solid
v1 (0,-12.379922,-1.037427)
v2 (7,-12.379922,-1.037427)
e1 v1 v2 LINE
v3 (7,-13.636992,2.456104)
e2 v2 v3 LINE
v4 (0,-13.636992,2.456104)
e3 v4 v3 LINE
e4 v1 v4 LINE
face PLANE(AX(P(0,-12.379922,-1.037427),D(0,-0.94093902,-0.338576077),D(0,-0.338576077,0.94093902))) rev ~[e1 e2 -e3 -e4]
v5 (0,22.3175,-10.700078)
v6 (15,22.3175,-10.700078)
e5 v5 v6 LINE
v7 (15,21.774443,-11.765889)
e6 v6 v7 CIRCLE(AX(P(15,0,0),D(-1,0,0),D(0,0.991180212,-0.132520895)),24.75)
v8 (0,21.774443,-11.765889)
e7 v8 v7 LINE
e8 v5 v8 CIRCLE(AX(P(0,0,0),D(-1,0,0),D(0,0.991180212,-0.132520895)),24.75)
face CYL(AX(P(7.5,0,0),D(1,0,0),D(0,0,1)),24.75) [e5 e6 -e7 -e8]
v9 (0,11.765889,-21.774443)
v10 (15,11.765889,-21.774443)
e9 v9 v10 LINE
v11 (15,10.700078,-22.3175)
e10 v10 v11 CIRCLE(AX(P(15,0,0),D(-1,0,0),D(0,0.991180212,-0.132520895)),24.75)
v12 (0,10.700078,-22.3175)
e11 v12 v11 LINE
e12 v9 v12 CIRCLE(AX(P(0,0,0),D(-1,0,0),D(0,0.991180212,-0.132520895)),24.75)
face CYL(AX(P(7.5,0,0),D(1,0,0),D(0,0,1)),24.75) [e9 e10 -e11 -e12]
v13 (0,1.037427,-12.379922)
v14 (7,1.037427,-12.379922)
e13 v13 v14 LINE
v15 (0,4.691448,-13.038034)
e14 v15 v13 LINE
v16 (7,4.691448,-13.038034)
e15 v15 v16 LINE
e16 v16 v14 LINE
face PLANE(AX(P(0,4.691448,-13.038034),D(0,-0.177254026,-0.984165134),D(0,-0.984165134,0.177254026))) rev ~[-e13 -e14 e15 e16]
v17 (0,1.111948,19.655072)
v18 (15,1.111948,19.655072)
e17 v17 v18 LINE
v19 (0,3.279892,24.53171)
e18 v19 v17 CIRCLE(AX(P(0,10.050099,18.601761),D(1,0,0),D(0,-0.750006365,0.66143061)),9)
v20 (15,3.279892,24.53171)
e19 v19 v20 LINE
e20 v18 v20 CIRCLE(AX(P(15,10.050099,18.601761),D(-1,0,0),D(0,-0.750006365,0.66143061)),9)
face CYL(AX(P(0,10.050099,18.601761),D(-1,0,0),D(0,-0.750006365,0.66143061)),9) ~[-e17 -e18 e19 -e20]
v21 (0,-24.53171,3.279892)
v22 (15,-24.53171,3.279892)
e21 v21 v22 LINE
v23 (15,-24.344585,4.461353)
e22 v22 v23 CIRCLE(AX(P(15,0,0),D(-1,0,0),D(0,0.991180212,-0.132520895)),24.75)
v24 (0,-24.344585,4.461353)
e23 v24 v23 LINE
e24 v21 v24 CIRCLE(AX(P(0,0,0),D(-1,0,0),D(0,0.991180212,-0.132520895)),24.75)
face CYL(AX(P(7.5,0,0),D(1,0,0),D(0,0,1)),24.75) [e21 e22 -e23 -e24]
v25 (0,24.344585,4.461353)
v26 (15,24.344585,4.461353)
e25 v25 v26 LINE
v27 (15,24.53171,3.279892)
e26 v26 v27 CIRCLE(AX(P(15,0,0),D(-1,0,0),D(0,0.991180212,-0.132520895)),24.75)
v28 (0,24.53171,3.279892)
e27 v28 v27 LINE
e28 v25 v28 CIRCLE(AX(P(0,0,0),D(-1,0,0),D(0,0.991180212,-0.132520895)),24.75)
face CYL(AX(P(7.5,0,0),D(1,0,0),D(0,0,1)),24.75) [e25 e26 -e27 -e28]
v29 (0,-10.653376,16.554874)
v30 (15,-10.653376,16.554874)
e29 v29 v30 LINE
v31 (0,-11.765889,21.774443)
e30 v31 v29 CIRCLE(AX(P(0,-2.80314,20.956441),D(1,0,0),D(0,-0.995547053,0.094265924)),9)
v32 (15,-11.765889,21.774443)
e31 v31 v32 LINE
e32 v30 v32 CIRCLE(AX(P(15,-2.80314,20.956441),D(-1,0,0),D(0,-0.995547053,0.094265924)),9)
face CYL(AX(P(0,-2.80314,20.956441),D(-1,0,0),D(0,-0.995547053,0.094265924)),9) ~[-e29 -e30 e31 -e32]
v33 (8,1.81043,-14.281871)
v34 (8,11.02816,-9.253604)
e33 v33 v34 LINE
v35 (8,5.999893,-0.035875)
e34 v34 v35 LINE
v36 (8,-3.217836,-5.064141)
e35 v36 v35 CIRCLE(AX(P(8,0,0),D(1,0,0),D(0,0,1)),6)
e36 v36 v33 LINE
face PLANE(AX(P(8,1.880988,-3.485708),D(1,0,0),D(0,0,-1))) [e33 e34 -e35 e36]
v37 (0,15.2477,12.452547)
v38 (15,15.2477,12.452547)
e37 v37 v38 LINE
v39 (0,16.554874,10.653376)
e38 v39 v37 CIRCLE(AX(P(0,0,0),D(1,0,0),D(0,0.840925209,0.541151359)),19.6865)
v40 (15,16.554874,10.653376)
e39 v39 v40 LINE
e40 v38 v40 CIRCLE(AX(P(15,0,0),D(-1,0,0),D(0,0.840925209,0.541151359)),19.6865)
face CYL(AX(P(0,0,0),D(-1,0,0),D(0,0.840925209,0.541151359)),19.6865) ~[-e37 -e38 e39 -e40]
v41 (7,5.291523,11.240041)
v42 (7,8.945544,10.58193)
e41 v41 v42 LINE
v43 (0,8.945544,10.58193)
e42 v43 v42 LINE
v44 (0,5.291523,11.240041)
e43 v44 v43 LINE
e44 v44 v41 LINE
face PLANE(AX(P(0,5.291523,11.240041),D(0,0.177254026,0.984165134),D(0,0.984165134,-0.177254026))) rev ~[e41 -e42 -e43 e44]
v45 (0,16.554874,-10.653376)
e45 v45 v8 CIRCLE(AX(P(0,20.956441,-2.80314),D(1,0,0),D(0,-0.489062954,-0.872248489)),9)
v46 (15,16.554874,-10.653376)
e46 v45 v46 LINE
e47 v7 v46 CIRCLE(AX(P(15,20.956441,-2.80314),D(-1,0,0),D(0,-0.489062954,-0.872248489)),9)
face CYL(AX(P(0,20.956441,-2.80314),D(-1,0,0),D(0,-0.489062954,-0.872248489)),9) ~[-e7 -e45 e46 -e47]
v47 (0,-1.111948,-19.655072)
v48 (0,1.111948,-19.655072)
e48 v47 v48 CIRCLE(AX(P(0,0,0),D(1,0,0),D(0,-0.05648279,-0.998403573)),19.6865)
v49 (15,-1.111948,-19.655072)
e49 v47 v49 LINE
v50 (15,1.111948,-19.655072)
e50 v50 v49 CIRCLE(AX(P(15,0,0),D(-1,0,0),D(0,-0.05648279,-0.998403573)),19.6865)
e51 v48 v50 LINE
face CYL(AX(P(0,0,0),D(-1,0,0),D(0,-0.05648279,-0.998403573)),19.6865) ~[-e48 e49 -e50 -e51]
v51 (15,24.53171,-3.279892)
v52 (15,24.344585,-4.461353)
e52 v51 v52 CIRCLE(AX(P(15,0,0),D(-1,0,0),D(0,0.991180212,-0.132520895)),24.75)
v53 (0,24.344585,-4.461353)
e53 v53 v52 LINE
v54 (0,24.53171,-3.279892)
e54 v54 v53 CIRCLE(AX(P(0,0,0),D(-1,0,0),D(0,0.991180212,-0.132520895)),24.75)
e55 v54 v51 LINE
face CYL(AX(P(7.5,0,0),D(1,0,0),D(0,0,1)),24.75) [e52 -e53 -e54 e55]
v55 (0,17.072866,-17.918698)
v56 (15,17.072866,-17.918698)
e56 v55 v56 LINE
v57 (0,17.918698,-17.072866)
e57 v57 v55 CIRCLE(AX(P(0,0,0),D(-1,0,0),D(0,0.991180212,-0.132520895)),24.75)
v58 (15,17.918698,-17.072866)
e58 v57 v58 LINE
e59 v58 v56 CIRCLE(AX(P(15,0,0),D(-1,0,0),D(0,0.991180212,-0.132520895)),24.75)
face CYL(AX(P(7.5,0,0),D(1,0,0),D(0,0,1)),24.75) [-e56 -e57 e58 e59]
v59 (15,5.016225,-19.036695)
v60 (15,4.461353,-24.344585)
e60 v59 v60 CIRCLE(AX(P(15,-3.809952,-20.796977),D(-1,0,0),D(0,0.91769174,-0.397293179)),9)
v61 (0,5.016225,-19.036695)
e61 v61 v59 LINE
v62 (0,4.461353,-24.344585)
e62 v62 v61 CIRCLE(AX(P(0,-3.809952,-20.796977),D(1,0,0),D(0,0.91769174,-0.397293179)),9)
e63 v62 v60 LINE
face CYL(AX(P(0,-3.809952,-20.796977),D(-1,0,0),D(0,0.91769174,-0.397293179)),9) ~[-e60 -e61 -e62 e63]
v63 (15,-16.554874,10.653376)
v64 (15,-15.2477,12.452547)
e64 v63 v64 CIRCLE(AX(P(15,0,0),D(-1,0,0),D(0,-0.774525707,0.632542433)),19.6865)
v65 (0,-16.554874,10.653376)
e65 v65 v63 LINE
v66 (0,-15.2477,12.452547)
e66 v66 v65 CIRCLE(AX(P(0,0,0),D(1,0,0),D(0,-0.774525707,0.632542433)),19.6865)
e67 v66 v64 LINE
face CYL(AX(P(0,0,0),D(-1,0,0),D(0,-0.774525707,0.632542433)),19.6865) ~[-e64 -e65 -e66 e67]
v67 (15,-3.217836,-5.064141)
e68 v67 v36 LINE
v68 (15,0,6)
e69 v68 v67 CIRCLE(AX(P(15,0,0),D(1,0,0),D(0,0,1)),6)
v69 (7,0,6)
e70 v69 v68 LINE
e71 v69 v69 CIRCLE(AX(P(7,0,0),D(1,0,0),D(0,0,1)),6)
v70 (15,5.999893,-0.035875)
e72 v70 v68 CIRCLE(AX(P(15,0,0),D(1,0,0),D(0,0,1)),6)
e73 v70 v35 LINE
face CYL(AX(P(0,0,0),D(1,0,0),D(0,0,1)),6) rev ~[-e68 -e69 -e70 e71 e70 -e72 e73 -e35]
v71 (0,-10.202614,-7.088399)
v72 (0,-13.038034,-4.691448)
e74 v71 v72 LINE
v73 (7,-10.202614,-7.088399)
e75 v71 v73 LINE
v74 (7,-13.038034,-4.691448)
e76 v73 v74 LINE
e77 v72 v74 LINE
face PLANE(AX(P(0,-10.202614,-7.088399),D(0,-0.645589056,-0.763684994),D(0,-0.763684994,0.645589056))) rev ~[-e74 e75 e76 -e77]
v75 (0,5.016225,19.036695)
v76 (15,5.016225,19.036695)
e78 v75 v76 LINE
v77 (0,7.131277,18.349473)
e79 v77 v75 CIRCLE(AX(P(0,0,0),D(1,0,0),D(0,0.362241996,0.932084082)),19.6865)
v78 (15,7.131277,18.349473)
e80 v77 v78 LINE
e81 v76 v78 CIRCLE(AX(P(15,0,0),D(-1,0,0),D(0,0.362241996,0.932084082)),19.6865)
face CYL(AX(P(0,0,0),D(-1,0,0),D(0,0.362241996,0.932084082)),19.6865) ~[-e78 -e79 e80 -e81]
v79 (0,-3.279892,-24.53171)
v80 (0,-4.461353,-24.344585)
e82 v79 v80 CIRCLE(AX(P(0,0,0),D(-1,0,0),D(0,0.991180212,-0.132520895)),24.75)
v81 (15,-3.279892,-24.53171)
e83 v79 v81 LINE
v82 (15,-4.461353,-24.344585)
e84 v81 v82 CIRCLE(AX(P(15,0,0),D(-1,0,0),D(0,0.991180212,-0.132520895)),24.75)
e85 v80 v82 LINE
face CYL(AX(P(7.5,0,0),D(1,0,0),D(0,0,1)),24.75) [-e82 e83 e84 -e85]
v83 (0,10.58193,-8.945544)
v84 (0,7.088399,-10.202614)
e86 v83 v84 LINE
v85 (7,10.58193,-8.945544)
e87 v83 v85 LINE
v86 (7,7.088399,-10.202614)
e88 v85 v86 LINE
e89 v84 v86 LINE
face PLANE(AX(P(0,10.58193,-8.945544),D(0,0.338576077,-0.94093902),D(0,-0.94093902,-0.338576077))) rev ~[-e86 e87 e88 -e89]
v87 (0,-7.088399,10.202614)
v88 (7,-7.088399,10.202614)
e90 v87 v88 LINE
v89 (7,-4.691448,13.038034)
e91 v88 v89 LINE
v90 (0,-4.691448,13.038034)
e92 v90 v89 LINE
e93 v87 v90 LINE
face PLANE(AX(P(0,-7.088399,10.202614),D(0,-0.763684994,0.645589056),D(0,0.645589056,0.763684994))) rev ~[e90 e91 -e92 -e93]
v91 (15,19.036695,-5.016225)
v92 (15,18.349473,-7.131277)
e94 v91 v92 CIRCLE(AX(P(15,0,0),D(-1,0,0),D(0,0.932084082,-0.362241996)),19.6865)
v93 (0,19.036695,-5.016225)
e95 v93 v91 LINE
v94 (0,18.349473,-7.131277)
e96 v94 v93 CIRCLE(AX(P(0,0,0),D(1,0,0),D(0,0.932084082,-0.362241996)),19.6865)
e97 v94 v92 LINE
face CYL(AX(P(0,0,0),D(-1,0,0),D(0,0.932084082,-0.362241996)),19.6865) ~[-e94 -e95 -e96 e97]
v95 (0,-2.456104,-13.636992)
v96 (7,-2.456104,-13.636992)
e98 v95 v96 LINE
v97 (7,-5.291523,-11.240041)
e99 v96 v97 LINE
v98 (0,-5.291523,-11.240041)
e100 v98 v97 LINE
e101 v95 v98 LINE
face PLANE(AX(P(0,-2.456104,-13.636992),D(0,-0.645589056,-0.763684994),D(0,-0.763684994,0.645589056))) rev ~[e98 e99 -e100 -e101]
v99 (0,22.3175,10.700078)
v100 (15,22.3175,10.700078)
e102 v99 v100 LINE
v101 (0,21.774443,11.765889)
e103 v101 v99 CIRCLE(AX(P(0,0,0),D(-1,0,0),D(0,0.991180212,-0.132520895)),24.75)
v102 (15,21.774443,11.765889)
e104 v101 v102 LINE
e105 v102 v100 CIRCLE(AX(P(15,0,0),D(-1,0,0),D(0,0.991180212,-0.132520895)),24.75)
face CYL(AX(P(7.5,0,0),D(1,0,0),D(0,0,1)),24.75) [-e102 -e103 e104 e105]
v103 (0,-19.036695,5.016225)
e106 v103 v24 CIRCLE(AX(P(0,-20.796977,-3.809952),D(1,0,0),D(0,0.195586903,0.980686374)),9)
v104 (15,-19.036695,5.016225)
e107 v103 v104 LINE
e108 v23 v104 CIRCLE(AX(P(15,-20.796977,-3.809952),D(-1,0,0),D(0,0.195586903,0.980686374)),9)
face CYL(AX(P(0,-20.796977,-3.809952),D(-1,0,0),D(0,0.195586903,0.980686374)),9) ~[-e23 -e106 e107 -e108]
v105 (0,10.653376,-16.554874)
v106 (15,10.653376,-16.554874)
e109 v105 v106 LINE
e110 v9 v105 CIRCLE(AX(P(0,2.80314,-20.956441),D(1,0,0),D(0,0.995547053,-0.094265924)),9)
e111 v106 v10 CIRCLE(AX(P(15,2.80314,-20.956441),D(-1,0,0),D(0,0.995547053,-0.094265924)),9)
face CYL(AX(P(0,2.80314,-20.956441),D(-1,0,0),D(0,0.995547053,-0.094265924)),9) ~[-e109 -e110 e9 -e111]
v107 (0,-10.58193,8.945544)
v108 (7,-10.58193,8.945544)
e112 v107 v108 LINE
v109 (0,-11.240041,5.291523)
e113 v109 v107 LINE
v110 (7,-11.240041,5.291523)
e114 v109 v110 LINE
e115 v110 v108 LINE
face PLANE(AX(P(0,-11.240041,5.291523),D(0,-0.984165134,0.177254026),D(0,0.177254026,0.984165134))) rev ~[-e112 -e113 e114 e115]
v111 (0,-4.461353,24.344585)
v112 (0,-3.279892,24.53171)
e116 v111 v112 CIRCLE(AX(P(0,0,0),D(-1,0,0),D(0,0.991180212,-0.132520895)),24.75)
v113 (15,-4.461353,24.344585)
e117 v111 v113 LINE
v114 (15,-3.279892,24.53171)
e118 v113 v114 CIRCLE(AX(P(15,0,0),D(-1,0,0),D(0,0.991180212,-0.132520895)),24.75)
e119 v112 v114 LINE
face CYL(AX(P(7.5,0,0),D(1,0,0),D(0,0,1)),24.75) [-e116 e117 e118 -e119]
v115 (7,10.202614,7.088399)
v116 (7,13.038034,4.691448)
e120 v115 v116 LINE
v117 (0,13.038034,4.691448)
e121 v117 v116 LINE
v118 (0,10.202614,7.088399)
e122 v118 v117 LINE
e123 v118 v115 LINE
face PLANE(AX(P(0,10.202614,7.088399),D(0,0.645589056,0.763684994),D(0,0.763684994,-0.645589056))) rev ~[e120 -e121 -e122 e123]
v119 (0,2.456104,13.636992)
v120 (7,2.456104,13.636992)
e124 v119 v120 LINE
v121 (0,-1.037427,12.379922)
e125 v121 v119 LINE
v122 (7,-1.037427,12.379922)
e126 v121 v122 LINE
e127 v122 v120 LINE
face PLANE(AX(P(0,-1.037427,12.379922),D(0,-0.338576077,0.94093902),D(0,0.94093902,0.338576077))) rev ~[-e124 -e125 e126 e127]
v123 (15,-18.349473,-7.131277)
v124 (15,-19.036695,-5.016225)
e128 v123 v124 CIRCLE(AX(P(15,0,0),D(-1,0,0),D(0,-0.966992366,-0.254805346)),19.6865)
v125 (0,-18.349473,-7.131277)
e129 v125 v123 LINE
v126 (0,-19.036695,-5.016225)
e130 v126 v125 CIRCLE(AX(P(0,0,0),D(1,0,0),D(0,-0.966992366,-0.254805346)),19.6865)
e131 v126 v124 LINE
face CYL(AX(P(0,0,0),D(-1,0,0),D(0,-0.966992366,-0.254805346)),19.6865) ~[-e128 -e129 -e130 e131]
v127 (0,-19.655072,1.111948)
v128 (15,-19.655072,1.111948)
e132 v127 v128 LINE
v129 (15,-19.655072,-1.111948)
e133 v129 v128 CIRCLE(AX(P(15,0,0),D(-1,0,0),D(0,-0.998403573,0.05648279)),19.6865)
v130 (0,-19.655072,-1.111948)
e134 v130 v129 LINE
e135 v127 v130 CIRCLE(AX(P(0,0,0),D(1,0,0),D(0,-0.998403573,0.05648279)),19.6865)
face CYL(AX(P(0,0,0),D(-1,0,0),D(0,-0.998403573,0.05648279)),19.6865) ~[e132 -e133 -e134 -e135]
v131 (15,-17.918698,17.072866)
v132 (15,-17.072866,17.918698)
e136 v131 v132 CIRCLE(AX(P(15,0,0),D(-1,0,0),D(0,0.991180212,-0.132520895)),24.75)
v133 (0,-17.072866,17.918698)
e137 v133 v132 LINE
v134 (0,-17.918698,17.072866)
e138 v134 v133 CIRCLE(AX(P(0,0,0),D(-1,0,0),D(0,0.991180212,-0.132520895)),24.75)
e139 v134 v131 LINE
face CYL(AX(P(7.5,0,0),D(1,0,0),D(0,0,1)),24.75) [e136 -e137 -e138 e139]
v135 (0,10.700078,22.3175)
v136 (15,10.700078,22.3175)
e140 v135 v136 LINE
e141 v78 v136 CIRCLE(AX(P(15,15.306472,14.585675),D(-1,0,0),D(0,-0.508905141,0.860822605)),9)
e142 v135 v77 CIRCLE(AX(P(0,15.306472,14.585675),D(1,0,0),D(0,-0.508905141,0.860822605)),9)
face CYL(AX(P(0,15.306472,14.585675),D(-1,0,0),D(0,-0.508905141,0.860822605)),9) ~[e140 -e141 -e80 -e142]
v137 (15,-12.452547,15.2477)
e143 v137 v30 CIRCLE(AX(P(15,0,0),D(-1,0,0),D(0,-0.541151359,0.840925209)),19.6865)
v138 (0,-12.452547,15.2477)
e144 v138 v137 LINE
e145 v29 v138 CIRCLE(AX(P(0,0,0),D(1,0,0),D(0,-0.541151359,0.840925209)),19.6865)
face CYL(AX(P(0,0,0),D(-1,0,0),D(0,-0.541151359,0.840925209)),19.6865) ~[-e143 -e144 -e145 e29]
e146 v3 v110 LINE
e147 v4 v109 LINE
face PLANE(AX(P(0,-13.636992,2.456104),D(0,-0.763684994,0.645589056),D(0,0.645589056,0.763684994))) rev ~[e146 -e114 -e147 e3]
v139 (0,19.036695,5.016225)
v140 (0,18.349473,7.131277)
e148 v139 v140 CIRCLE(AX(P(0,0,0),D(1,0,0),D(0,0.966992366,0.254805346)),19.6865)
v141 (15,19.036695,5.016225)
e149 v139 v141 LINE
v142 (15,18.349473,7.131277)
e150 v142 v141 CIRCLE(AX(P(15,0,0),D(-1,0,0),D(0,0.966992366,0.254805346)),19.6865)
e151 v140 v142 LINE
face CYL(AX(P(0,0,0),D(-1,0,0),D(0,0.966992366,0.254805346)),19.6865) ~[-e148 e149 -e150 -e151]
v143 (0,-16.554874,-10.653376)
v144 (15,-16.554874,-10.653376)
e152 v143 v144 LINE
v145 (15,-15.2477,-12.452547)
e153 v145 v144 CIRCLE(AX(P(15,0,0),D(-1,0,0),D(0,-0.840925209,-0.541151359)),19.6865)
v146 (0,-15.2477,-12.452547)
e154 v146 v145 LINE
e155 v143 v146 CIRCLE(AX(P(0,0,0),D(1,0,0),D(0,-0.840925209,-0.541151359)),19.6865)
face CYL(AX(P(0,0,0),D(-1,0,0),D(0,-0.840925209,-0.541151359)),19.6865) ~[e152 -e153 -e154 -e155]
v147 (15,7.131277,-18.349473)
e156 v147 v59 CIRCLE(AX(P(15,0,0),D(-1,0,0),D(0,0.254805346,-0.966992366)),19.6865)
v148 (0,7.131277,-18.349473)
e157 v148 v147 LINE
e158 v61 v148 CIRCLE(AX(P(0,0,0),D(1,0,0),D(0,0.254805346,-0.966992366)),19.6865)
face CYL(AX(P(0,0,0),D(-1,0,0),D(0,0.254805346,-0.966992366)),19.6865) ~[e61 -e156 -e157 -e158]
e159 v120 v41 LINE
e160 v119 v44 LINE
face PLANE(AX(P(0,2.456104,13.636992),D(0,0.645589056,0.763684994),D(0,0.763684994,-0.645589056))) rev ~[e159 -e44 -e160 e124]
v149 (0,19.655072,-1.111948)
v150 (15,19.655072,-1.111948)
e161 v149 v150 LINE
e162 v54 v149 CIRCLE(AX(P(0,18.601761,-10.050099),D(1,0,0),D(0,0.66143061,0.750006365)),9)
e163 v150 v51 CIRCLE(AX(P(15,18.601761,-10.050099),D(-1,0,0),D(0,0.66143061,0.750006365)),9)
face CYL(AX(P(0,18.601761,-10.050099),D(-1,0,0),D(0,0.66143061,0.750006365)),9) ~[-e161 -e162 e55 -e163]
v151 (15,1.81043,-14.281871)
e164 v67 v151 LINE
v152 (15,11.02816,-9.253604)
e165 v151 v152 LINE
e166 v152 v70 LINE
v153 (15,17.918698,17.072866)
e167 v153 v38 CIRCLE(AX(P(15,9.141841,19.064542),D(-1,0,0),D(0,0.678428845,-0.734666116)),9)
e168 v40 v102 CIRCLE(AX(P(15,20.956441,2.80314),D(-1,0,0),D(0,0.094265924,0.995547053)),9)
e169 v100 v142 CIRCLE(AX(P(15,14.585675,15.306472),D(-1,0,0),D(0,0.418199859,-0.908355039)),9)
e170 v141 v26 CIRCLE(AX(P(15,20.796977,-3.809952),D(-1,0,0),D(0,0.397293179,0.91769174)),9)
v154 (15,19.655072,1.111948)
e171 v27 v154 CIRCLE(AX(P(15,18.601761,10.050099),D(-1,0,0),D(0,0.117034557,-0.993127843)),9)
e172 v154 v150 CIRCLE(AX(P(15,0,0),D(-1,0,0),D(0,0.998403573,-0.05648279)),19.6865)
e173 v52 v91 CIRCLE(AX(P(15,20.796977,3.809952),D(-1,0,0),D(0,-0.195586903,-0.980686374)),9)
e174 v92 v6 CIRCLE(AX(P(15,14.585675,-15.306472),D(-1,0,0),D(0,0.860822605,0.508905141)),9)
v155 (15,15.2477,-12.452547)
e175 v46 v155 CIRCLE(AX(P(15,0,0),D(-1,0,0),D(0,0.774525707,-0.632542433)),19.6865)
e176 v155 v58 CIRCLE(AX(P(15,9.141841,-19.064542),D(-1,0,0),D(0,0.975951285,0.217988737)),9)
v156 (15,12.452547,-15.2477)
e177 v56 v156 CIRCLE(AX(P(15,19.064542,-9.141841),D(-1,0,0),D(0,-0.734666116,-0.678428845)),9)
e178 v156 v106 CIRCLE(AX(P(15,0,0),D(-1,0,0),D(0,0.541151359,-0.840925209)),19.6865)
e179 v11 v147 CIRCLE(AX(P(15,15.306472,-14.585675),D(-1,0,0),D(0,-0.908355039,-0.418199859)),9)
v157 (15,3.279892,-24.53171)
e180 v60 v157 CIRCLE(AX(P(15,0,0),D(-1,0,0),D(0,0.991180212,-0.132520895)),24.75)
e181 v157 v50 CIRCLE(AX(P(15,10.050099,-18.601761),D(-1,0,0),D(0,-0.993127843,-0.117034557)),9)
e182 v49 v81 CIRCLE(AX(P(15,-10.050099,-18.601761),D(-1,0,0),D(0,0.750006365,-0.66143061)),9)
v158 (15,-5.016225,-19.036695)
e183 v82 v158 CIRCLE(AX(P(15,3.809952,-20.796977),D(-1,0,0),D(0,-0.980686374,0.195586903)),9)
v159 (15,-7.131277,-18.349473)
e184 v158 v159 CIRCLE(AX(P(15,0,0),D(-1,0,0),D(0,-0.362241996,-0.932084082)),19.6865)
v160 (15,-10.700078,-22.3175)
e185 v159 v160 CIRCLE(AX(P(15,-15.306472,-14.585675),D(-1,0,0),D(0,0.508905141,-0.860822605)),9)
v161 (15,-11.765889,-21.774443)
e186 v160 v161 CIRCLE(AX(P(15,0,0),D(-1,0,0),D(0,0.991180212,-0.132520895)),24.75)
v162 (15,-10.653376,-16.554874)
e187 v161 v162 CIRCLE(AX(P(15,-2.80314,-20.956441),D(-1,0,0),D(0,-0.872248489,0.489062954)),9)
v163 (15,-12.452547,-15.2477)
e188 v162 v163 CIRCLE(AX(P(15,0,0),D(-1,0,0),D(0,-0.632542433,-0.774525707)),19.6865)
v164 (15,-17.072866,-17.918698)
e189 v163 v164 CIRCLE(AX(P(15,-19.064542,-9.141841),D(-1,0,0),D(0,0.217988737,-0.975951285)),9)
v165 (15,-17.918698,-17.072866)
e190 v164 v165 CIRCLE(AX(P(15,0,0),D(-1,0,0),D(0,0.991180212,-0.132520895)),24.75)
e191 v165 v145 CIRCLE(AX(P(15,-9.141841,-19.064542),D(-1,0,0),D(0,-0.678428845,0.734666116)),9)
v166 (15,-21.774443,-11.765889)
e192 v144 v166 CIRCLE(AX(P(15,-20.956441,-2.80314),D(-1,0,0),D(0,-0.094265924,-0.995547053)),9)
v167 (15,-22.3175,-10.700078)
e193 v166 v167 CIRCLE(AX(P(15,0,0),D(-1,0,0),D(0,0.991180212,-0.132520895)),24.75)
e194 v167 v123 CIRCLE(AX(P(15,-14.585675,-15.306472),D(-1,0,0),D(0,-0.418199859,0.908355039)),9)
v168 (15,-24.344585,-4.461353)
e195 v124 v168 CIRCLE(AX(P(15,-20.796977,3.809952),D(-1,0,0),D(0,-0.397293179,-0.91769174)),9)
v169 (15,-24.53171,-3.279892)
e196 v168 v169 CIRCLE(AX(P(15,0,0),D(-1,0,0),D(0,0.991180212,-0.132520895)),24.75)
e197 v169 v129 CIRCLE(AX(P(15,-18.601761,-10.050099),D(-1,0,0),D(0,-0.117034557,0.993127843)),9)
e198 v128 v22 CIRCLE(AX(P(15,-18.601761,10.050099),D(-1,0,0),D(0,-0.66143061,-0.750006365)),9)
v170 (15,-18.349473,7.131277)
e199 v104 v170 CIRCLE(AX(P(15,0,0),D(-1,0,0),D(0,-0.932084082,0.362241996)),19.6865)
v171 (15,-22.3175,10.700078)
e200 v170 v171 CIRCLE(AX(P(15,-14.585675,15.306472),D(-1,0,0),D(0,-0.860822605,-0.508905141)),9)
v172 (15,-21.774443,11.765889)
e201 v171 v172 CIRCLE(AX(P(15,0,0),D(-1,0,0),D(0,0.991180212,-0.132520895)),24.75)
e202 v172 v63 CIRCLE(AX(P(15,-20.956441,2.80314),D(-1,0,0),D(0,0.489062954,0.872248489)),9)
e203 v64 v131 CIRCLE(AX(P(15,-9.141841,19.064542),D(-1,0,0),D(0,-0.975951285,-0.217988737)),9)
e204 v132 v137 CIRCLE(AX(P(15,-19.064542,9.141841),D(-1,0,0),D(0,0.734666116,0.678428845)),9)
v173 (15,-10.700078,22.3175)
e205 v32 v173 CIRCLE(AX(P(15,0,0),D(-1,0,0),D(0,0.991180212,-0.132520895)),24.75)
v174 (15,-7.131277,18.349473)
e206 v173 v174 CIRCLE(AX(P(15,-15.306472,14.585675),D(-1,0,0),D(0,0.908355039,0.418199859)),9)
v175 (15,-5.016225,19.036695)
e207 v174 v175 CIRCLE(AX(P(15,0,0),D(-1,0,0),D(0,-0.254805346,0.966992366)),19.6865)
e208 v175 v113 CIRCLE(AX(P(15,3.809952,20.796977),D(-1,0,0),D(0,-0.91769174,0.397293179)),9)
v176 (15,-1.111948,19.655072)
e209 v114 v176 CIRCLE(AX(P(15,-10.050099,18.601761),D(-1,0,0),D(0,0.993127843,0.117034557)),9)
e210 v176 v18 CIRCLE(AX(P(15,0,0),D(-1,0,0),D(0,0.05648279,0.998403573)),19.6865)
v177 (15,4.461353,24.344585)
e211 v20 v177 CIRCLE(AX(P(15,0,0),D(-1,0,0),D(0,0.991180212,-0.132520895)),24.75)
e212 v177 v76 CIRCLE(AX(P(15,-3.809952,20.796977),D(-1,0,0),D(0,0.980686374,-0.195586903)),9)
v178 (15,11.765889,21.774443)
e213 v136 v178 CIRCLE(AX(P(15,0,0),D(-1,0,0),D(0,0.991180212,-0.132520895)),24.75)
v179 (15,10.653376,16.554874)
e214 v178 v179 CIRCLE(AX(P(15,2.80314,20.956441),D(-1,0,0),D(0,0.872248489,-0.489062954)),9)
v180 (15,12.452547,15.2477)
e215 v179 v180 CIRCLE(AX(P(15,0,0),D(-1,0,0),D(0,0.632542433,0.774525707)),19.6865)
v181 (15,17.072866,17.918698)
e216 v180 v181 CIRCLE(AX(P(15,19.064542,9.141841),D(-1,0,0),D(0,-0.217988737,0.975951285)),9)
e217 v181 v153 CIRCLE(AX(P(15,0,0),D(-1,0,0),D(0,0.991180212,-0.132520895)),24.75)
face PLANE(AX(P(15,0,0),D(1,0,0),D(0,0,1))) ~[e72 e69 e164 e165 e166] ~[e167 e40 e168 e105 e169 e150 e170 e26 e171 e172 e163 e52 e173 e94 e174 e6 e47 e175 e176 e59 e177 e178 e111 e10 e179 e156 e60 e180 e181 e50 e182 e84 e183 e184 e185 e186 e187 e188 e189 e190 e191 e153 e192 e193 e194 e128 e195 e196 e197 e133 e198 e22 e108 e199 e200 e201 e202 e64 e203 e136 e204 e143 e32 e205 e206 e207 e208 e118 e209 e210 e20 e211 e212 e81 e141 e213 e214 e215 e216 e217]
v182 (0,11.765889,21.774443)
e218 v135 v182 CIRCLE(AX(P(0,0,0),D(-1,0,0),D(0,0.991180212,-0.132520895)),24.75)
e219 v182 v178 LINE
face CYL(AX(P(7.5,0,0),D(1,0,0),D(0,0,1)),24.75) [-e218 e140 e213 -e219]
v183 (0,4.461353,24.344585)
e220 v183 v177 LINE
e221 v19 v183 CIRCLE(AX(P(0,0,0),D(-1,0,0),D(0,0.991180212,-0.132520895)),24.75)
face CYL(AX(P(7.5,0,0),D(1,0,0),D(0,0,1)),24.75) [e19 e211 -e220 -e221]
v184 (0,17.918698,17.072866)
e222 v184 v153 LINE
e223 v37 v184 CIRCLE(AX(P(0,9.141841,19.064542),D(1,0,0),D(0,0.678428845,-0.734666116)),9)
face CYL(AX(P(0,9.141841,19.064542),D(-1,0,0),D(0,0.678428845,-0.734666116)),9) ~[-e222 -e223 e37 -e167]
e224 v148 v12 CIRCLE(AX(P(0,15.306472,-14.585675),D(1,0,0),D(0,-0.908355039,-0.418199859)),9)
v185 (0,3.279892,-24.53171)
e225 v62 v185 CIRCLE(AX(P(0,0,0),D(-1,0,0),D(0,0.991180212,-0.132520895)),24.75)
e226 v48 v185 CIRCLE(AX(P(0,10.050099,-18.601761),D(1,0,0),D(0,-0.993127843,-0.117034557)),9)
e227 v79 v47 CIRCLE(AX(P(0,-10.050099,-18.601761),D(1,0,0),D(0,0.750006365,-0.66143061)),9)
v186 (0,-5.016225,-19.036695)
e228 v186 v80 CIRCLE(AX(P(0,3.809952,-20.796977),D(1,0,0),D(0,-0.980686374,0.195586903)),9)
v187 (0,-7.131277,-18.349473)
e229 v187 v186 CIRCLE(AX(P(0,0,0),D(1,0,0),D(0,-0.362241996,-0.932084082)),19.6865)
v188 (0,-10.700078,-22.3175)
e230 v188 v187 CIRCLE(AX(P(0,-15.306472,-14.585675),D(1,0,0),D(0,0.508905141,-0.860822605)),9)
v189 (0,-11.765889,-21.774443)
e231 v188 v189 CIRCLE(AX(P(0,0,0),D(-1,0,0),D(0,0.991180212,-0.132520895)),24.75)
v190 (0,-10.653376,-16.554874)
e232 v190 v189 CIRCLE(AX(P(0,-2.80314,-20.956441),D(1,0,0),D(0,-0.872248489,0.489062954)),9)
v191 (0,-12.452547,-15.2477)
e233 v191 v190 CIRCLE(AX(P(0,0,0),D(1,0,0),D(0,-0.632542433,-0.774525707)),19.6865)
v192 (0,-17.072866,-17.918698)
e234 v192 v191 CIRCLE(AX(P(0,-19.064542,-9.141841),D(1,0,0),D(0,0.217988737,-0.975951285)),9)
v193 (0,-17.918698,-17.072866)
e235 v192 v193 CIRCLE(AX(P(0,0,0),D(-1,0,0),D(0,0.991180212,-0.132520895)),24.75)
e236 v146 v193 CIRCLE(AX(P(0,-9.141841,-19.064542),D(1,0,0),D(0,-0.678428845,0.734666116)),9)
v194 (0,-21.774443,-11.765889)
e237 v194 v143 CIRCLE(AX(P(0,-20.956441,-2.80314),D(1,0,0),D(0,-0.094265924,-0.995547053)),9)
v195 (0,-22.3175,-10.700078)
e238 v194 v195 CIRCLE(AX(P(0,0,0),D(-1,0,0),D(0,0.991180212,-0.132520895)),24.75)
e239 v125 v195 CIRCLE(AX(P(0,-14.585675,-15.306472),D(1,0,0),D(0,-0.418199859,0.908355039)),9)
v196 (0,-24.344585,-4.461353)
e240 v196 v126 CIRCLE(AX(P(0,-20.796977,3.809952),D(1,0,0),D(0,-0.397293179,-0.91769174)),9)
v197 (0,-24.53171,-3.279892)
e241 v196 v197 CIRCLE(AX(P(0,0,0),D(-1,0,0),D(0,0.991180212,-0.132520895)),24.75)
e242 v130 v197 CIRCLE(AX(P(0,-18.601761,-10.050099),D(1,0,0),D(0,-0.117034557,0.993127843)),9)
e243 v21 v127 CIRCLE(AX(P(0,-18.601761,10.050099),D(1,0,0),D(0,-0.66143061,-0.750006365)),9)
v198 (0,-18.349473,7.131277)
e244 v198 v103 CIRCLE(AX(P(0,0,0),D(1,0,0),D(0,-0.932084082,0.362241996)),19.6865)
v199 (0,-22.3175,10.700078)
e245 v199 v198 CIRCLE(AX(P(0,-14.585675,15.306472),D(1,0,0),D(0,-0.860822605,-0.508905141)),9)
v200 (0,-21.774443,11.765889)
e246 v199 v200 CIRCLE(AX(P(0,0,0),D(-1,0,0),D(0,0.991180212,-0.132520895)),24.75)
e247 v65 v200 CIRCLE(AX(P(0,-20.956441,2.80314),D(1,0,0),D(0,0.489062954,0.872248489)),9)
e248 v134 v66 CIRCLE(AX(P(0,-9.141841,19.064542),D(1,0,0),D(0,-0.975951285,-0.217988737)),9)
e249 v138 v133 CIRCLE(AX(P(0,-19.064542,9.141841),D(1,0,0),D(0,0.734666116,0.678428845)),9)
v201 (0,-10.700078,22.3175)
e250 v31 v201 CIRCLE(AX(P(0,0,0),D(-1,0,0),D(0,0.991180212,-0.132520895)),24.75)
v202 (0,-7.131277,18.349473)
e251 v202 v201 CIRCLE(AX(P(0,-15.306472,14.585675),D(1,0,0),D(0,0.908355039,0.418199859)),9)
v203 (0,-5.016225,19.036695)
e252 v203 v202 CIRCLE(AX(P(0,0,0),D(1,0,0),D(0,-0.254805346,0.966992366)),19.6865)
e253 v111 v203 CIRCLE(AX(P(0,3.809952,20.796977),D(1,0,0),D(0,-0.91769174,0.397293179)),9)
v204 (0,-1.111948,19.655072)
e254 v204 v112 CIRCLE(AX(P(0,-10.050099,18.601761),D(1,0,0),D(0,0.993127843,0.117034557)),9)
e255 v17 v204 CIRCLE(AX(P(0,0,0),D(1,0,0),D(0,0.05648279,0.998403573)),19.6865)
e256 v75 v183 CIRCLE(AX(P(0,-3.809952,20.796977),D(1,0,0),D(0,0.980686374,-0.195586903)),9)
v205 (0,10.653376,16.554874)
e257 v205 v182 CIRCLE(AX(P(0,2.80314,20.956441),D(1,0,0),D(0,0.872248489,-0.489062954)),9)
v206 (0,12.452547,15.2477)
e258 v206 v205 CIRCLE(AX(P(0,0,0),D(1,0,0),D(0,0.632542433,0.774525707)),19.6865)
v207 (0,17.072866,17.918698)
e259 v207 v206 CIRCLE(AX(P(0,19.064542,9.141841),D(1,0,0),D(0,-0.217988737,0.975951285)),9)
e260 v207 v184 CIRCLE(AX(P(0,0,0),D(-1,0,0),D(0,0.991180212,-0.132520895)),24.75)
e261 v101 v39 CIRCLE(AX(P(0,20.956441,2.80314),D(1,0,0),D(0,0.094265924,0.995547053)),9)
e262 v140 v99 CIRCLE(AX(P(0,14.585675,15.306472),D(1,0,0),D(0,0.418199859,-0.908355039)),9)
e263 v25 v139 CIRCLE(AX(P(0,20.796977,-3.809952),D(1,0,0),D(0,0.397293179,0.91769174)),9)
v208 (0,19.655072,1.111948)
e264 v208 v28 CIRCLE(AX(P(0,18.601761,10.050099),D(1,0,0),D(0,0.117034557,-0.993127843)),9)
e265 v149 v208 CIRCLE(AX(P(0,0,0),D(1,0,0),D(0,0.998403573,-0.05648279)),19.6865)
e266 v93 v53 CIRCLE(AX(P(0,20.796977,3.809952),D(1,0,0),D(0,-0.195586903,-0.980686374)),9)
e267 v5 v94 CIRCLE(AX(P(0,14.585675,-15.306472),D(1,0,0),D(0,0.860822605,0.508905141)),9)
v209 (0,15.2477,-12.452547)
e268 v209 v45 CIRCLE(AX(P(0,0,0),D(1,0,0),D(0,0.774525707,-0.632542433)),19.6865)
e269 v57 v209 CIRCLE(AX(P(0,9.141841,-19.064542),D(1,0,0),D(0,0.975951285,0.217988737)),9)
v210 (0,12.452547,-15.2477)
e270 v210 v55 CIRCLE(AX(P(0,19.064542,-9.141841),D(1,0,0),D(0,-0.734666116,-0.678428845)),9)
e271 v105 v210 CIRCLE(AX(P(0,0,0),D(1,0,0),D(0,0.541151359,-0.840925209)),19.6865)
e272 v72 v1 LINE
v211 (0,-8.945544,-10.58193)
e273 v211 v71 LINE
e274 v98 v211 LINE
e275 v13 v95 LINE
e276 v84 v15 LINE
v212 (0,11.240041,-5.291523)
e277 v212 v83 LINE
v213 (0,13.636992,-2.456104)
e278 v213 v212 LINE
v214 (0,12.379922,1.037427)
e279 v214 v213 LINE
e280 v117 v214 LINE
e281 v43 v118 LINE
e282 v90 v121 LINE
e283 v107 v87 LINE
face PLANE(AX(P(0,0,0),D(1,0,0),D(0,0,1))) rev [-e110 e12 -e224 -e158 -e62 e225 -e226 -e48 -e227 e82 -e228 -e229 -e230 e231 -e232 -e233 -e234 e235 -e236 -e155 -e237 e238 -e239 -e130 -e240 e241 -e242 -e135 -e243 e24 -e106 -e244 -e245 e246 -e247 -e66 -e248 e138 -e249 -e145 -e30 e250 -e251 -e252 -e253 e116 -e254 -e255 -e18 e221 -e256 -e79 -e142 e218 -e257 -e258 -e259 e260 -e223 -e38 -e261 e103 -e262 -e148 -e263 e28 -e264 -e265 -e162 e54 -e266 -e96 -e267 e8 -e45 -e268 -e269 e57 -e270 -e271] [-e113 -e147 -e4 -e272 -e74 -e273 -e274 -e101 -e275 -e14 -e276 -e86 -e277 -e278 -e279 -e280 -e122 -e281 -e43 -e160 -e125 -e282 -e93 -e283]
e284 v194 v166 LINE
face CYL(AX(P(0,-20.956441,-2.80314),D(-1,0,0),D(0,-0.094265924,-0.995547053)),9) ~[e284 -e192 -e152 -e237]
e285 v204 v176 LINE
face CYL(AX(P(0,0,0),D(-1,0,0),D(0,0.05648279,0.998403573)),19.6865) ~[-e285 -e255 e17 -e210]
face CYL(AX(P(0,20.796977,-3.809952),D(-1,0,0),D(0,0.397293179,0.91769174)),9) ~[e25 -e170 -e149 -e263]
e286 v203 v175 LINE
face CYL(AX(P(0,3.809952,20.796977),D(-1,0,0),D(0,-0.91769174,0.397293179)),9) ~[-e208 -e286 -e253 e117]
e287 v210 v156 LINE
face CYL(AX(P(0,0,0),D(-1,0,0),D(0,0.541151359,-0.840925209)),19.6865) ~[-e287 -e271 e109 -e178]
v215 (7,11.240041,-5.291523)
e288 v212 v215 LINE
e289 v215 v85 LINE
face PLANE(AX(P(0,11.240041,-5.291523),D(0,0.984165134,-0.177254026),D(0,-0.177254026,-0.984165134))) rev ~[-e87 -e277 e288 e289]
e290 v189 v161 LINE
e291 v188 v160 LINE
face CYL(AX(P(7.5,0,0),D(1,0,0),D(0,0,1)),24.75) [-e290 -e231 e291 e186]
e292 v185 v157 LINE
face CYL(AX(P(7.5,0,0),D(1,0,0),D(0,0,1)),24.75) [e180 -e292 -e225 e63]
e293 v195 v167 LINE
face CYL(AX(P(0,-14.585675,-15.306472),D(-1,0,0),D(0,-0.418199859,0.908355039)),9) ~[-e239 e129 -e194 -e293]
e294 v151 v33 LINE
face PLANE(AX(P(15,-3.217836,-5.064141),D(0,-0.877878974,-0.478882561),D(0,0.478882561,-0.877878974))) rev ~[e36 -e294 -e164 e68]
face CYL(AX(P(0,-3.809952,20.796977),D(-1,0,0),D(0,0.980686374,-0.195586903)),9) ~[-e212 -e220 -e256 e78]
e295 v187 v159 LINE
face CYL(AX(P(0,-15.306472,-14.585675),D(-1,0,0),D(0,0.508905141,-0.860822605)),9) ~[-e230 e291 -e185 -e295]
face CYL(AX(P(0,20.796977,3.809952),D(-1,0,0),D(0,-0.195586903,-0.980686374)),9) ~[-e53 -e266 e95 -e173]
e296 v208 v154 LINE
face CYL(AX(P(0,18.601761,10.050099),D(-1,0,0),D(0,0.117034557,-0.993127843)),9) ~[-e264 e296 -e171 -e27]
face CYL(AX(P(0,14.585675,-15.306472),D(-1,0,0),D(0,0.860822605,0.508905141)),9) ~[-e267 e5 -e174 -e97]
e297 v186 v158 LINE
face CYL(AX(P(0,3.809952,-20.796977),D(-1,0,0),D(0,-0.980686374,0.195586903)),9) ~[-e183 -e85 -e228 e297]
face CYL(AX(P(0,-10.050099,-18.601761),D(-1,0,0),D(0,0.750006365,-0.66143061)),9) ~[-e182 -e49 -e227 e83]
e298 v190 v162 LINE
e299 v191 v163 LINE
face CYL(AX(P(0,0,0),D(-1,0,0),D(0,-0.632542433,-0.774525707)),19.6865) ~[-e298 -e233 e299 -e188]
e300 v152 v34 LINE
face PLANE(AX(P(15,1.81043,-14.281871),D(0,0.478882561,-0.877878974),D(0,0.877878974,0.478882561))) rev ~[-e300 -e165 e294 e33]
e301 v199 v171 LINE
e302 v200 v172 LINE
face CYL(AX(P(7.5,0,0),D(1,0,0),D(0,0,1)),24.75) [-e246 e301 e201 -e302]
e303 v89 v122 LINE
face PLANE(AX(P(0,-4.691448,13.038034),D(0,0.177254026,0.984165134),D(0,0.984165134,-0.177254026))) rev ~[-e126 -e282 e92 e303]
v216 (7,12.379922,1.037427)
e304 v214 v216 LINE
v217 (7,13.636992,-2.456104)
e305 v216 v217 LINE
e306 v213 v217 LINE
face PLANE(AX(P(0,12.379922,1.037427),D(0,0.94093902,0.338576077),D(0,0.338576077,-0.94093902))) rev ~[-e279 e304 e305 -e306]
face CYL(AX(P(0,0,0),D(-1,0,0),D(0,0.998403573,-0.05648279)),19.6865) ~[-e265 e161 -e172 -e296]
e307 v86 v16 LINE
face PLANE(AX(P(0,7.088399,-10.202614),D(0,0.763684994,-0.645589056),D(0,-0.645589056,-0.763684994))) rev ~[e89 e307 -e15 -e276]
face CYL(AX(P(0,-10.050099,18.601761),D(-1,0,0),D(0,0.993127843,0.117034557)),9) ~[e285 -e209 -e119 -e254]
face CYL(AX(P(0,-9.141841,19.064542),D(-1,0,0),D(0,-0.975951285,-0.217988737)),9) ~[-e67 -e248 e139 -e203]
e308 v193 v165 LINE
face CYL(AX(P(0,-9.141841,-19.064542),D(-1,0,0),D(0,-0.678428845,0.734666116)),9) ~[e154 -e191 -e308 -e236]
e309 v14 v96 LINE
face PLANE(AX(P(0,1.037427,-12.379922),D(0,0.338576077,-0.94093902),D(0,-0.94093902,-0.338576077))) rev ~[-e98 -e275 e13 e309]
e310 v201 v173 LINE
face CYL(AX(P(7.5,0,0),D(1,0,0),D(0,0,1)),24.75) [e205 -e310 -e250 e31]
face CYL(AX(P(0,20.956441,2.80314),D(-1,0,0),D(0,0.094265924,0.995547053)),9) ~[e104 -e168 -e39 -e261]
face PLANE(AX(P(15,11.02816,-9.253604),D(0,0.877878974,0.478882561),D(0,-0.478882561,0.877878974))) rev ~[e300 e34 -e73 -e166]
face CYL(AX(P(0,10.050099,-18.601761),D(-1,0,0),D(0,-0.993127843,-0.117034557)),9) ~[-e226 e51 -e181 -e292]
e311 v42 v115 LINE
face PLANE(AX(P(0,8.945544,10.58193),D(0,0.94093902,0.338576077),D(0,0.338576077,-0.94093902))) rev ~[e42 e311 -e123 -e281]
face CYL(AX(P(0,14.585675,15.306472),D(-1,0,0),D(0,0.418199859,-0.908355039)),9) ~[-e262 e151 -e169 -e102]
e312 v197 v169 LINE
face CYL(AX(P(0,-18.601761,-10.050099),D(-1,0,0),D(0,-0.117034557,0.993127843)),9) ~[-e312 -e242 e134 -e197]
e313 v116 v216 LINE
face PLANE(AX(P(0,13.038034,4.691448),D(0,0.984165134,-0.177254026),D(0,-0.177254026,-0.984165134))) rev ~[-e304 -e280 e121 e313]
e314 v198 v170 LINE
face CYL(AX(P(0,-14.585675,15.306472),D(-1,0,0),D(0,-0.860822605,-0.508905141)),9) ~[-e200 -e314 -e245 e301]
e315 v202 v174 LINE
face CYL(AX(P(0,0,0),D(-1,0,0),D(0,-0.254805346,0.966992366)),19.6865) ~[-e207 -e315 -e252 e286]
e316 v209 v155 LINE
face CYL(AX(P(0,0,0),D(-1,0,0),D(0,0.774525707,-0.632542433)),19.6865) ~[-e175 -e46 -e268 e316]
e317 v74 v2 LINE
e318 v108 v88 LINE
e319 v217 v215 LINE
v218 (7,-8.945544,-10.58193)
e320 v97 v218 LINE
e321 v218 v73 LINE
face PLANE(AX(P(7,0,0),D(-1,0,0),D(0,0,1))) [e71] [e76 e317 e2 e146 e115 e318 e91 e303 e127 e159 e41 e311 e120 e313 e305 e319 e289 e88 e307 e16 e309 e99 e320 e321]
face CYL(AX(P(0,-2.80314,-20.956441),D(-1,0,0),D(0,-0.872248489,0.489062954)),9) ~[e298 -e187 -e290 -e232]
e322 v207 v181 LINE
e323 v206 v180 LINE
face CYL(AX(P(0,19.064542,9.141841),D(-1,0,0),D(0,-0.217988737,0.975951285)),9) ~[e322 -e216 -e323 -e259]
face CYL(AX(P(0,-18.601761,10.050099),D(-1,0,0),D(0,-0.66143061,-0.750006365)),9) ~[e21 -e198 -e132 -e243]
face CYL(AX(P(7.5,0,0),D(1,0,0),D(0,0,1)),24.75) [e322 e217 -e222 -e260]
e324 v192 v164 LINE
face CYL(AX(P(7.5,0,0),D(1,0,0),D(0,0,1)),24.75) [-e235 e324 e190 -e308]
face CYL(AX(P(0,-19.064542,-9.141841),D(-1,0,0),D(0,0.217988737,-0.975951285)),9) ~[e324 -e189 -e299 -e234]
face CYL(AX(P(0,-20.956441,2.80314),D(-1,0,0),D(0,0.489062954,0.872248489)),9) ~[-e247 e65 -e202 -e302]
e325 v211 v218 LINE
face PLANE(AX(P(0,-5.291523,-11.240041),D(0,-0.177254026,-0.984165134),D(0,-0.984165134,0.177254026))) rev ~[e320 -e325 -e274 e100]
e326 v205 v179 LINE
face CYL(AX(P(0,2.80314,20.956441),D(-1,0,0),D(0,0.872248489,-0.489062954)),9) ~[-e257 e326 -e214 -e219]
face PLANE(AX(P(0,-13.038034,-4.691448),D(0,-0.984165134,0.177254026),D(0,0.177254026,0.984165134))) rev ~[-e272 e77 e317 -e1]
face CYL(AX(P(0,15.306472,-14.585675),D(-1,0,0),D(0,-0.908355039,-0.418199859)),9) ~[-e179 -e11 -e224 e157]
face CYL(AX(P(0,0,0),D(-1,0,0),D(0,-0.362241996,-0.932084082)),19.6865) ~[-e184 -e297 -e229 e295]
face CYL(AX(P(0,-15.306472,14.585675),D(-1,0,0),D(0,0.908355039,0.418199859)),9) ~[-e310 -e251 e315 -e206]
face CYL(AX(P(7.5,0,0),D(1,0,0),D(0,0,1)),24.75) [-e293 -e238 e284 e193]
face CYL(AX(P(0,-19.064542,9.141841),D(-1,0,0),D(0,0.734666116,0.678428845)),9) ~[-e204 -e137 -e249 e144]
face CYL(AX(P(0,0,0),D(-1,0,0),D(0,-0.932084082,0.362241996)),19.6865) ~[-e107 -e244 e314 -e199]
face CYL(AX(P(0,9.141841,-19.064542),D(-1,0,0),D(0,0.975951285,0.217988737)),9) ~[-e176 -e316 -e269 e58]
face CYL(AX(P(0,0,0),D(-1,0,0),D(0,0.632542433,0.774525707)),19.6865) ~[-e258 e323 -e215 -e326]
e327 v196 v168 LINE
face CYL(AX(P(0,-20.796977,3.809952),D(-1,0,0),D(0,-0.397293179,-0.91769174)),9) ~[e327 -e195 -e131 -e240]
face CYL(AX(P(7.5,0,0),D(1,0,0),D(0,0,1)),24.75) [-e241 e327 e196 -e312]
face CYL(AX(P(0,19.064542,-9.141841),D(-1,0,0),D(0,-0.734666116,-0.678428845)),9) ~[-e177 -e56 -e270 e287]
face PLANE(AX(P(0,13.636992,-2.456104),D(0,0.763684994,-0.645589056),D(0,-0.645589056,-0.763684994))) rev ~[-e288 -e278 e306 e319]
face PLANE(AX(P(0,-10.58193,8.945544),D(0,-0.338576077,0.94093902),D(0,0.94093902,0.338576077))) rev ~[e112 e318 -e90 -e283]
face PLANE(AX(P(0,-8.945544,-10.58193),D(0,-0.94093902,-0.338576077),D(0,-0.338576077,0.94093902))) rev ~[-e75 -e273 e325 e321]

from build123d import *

# Parameters (mm, degrees)
BASPROSKE_W        = 15
BASPROSKE_H        = 24.75
TOOTHCUT_DEPTH     = 39.080506824
TEETHCUTS_COUNT    = 20
BORSKE_R           = 6
BORE_DEPTH         = 50.0000508
SKETCH1_R          = 6
CUT_EXTRUDE1_DEPTH = 7
CUT_EXTRUDE2_DEPTH = 7


with BuildPart() as part:
    # BasProSke → Base-Revolve (revolve)
    with BuildSketch(Plane(origin=(0, 0, 0), x_dir=(1, 0, 0), z_dir=(0, 1, 0)), mode=Mode.PRIVATE) as base_revolve_sk:
        with Locations((7.5, 12.375)):
            Rectangle(BASPROSKE_W, BASPROSKE_H)
    revolve(base_revolve_sk.sketch.rotate(Axis((-10, 0, 0), (1, 0, 0)), 180), axis=Axis((-10, 0, 0), (1, 0, 0)))

    # TooCutSke → ToothCut (cut, through all)
    with BuildSketch(Plane(origin=(0, 0, 0), x_dir=(0, 0, -1), z_dir=(1, 0, 0))):
        with BuildLine():
            ThreePointArc((1.111948432, 19.655071939), (0, 19.6865), (-1.111948432, 19.655071939))
            ThreePointArc((-1.111948432, 19.655071939), (-1.832349961, 22.271720111), (-3.300041734, 24.55463642))
            ThreePointArc((-3.300041734, 24.55463642), (0, 24.7754), (3.300041734, 24.55463642))
            ThreePointArc((3.300041734, 24.55463642), (1.832349961, 22.271720111), (1.111948432, 19.655071939))
        make_face()
    toothcut = extrude(amount=TOOTHCUT_DEPTH, mode=Mode.SUBTRACT)

    # TeethCuts: ToothCut ×20 about axis
    teethcuts_axis = Axis((0, 0, 0), (1, 0, 0))
    for i in range(1, TEETHCUTS_COUNT):
        add(toothcut.rotate(teethcuts_axis, i * 360 / TEETHCUTS_COUNT), mode=Mode.SUBTRACT)

    # BorSke → Bore (cut, symmetric)
    with BuildSketch(Plane(origin=(0, 0, 0), x_dir=(0, 0, -1), z_dir=(1, 0, 0))):
        with Locations(Location((0, 0, 0), (0, 0, 180))):
            Circle(BORSKE_R)
    extrude(amount=BORE_DEPTH, both=True, mode=Mode.SUBTRACT)

    # Sketch1 → Cut-Extrude1 (cut)
    with BuildSketch(Plane(origin=(15, 0, 0), x_dir=(0, 0, -1), z_dir=(1, 0, 0))):
        with BuildLine():
            ThreePointArc((6, 0), (4.255305349, 4.229938107), (0.035874537, 5.999892751))
            Line((0.035874537, 5.999892751), (5.064141431, -3.217836473))
            ThreePointArc((5.064141431, -3.217836473), (5.761286687, -1.675582199), (6, 0))
        make_face()
        with BuildLine():
            Line((5.064141431, -3.217836473), (0.035874537, 5.999892751))
            ThreePointArc((0.035874537, 5.999892751), (-5.267273842, -2.873295368), (5.064141431, -3.217836473))
        make_face()
        with Locations(Location((0, 0, 0), (0, 0, 89.657421369))):
            Circle(SKETCH1_R)
        Polygon((0.035874537, 5.999892751), (5.064141431, -3.217836473), (14.281870655, 1.810430421), (9.25360376, 11.028159645), align=None)
    extrude(amount=-CUT_EXTRUDE1_DEPTH, mode=Mode.SUBTRACT)

    # Sketch2 → Cut-Extrude2 (cut)
    with BuildSketch(Plane.ZY):
        Polygon((13.03803352, -4.691447745), (10.581929687, 8.945544371), (-2.456103832, 13.636992116), (-13.03803352, 4.691447745), (-10.581929687, -8.945544371), (2.456103832, -13.636992116), align=None)
        Polygon((13.636992116, 2.456103832), (4.691447745, 13.03803352), (-8.945544371, 10.581929687), (-13.636992116, -2.456103832), (-4.691447745, -13.03803352), (8.945544371, -10.581929687), align=None)
        Polygon((-13.636992116, -2.456103832), (-11.240040726, -5.291523347), (-12.379922481, 1.03742672), align=None)
        Polygon((-10.581929687, -8.945544371), (-7.088399135, -10.202614006), (-11.240040726, -5.291523347), align=None)
        Polygon((-4.691447745, -13.03803352), (-1.03742672, -12.379922481), (-7.088399135, -10.202614006), align=None)
        Polygon((2.456103832, -13.636992116), (5.291523347, -11.240040726), (-1.03742672, -12.379922481), align=None)
        Polygon((8.945544371, -10.581929687), (10.202614006, -7.088399135), (5.291523347, -11.240040726), align=None)
        Polygon((10.202614006, -7.088399135), (13.03803352, -4.691447745), (12.379922481, -1.03742672), align=None)
        Polygon((7.088399135, 10.202614006), (11.240040726, 5.291523347), (10.581929687, 8.945544371), align=None)
        Polygon((11.240040726, 5.291523347), (12.379922481, -1.03742672), (13.636992116, 2.456103832), align=None)
        Polygon((1.03742672, 12.379922481), (7.088399135, 10.202614006), (4.691447745, 13.03803352), align=None)
        Polygon((-5.291523347, 11.240040726), (1.03742672, 12.379922481), (-2.456103832, 13.636992116), align=None)
        Polygon((-10.202614006, 7.088399135), (-5.291523347, 11.240040726), (-8.945544371, 10.581929687), align=None)
        Polygon((-12.379922481, 1.03742672), (-10.202614006, 7.088399135), (-13.03803352, 4.691447745), align=None)
    extrude(amount=-CUT_EXTRUDE2_DEPTH, mode=Mode.SUBTRACT)


solid = part.part
